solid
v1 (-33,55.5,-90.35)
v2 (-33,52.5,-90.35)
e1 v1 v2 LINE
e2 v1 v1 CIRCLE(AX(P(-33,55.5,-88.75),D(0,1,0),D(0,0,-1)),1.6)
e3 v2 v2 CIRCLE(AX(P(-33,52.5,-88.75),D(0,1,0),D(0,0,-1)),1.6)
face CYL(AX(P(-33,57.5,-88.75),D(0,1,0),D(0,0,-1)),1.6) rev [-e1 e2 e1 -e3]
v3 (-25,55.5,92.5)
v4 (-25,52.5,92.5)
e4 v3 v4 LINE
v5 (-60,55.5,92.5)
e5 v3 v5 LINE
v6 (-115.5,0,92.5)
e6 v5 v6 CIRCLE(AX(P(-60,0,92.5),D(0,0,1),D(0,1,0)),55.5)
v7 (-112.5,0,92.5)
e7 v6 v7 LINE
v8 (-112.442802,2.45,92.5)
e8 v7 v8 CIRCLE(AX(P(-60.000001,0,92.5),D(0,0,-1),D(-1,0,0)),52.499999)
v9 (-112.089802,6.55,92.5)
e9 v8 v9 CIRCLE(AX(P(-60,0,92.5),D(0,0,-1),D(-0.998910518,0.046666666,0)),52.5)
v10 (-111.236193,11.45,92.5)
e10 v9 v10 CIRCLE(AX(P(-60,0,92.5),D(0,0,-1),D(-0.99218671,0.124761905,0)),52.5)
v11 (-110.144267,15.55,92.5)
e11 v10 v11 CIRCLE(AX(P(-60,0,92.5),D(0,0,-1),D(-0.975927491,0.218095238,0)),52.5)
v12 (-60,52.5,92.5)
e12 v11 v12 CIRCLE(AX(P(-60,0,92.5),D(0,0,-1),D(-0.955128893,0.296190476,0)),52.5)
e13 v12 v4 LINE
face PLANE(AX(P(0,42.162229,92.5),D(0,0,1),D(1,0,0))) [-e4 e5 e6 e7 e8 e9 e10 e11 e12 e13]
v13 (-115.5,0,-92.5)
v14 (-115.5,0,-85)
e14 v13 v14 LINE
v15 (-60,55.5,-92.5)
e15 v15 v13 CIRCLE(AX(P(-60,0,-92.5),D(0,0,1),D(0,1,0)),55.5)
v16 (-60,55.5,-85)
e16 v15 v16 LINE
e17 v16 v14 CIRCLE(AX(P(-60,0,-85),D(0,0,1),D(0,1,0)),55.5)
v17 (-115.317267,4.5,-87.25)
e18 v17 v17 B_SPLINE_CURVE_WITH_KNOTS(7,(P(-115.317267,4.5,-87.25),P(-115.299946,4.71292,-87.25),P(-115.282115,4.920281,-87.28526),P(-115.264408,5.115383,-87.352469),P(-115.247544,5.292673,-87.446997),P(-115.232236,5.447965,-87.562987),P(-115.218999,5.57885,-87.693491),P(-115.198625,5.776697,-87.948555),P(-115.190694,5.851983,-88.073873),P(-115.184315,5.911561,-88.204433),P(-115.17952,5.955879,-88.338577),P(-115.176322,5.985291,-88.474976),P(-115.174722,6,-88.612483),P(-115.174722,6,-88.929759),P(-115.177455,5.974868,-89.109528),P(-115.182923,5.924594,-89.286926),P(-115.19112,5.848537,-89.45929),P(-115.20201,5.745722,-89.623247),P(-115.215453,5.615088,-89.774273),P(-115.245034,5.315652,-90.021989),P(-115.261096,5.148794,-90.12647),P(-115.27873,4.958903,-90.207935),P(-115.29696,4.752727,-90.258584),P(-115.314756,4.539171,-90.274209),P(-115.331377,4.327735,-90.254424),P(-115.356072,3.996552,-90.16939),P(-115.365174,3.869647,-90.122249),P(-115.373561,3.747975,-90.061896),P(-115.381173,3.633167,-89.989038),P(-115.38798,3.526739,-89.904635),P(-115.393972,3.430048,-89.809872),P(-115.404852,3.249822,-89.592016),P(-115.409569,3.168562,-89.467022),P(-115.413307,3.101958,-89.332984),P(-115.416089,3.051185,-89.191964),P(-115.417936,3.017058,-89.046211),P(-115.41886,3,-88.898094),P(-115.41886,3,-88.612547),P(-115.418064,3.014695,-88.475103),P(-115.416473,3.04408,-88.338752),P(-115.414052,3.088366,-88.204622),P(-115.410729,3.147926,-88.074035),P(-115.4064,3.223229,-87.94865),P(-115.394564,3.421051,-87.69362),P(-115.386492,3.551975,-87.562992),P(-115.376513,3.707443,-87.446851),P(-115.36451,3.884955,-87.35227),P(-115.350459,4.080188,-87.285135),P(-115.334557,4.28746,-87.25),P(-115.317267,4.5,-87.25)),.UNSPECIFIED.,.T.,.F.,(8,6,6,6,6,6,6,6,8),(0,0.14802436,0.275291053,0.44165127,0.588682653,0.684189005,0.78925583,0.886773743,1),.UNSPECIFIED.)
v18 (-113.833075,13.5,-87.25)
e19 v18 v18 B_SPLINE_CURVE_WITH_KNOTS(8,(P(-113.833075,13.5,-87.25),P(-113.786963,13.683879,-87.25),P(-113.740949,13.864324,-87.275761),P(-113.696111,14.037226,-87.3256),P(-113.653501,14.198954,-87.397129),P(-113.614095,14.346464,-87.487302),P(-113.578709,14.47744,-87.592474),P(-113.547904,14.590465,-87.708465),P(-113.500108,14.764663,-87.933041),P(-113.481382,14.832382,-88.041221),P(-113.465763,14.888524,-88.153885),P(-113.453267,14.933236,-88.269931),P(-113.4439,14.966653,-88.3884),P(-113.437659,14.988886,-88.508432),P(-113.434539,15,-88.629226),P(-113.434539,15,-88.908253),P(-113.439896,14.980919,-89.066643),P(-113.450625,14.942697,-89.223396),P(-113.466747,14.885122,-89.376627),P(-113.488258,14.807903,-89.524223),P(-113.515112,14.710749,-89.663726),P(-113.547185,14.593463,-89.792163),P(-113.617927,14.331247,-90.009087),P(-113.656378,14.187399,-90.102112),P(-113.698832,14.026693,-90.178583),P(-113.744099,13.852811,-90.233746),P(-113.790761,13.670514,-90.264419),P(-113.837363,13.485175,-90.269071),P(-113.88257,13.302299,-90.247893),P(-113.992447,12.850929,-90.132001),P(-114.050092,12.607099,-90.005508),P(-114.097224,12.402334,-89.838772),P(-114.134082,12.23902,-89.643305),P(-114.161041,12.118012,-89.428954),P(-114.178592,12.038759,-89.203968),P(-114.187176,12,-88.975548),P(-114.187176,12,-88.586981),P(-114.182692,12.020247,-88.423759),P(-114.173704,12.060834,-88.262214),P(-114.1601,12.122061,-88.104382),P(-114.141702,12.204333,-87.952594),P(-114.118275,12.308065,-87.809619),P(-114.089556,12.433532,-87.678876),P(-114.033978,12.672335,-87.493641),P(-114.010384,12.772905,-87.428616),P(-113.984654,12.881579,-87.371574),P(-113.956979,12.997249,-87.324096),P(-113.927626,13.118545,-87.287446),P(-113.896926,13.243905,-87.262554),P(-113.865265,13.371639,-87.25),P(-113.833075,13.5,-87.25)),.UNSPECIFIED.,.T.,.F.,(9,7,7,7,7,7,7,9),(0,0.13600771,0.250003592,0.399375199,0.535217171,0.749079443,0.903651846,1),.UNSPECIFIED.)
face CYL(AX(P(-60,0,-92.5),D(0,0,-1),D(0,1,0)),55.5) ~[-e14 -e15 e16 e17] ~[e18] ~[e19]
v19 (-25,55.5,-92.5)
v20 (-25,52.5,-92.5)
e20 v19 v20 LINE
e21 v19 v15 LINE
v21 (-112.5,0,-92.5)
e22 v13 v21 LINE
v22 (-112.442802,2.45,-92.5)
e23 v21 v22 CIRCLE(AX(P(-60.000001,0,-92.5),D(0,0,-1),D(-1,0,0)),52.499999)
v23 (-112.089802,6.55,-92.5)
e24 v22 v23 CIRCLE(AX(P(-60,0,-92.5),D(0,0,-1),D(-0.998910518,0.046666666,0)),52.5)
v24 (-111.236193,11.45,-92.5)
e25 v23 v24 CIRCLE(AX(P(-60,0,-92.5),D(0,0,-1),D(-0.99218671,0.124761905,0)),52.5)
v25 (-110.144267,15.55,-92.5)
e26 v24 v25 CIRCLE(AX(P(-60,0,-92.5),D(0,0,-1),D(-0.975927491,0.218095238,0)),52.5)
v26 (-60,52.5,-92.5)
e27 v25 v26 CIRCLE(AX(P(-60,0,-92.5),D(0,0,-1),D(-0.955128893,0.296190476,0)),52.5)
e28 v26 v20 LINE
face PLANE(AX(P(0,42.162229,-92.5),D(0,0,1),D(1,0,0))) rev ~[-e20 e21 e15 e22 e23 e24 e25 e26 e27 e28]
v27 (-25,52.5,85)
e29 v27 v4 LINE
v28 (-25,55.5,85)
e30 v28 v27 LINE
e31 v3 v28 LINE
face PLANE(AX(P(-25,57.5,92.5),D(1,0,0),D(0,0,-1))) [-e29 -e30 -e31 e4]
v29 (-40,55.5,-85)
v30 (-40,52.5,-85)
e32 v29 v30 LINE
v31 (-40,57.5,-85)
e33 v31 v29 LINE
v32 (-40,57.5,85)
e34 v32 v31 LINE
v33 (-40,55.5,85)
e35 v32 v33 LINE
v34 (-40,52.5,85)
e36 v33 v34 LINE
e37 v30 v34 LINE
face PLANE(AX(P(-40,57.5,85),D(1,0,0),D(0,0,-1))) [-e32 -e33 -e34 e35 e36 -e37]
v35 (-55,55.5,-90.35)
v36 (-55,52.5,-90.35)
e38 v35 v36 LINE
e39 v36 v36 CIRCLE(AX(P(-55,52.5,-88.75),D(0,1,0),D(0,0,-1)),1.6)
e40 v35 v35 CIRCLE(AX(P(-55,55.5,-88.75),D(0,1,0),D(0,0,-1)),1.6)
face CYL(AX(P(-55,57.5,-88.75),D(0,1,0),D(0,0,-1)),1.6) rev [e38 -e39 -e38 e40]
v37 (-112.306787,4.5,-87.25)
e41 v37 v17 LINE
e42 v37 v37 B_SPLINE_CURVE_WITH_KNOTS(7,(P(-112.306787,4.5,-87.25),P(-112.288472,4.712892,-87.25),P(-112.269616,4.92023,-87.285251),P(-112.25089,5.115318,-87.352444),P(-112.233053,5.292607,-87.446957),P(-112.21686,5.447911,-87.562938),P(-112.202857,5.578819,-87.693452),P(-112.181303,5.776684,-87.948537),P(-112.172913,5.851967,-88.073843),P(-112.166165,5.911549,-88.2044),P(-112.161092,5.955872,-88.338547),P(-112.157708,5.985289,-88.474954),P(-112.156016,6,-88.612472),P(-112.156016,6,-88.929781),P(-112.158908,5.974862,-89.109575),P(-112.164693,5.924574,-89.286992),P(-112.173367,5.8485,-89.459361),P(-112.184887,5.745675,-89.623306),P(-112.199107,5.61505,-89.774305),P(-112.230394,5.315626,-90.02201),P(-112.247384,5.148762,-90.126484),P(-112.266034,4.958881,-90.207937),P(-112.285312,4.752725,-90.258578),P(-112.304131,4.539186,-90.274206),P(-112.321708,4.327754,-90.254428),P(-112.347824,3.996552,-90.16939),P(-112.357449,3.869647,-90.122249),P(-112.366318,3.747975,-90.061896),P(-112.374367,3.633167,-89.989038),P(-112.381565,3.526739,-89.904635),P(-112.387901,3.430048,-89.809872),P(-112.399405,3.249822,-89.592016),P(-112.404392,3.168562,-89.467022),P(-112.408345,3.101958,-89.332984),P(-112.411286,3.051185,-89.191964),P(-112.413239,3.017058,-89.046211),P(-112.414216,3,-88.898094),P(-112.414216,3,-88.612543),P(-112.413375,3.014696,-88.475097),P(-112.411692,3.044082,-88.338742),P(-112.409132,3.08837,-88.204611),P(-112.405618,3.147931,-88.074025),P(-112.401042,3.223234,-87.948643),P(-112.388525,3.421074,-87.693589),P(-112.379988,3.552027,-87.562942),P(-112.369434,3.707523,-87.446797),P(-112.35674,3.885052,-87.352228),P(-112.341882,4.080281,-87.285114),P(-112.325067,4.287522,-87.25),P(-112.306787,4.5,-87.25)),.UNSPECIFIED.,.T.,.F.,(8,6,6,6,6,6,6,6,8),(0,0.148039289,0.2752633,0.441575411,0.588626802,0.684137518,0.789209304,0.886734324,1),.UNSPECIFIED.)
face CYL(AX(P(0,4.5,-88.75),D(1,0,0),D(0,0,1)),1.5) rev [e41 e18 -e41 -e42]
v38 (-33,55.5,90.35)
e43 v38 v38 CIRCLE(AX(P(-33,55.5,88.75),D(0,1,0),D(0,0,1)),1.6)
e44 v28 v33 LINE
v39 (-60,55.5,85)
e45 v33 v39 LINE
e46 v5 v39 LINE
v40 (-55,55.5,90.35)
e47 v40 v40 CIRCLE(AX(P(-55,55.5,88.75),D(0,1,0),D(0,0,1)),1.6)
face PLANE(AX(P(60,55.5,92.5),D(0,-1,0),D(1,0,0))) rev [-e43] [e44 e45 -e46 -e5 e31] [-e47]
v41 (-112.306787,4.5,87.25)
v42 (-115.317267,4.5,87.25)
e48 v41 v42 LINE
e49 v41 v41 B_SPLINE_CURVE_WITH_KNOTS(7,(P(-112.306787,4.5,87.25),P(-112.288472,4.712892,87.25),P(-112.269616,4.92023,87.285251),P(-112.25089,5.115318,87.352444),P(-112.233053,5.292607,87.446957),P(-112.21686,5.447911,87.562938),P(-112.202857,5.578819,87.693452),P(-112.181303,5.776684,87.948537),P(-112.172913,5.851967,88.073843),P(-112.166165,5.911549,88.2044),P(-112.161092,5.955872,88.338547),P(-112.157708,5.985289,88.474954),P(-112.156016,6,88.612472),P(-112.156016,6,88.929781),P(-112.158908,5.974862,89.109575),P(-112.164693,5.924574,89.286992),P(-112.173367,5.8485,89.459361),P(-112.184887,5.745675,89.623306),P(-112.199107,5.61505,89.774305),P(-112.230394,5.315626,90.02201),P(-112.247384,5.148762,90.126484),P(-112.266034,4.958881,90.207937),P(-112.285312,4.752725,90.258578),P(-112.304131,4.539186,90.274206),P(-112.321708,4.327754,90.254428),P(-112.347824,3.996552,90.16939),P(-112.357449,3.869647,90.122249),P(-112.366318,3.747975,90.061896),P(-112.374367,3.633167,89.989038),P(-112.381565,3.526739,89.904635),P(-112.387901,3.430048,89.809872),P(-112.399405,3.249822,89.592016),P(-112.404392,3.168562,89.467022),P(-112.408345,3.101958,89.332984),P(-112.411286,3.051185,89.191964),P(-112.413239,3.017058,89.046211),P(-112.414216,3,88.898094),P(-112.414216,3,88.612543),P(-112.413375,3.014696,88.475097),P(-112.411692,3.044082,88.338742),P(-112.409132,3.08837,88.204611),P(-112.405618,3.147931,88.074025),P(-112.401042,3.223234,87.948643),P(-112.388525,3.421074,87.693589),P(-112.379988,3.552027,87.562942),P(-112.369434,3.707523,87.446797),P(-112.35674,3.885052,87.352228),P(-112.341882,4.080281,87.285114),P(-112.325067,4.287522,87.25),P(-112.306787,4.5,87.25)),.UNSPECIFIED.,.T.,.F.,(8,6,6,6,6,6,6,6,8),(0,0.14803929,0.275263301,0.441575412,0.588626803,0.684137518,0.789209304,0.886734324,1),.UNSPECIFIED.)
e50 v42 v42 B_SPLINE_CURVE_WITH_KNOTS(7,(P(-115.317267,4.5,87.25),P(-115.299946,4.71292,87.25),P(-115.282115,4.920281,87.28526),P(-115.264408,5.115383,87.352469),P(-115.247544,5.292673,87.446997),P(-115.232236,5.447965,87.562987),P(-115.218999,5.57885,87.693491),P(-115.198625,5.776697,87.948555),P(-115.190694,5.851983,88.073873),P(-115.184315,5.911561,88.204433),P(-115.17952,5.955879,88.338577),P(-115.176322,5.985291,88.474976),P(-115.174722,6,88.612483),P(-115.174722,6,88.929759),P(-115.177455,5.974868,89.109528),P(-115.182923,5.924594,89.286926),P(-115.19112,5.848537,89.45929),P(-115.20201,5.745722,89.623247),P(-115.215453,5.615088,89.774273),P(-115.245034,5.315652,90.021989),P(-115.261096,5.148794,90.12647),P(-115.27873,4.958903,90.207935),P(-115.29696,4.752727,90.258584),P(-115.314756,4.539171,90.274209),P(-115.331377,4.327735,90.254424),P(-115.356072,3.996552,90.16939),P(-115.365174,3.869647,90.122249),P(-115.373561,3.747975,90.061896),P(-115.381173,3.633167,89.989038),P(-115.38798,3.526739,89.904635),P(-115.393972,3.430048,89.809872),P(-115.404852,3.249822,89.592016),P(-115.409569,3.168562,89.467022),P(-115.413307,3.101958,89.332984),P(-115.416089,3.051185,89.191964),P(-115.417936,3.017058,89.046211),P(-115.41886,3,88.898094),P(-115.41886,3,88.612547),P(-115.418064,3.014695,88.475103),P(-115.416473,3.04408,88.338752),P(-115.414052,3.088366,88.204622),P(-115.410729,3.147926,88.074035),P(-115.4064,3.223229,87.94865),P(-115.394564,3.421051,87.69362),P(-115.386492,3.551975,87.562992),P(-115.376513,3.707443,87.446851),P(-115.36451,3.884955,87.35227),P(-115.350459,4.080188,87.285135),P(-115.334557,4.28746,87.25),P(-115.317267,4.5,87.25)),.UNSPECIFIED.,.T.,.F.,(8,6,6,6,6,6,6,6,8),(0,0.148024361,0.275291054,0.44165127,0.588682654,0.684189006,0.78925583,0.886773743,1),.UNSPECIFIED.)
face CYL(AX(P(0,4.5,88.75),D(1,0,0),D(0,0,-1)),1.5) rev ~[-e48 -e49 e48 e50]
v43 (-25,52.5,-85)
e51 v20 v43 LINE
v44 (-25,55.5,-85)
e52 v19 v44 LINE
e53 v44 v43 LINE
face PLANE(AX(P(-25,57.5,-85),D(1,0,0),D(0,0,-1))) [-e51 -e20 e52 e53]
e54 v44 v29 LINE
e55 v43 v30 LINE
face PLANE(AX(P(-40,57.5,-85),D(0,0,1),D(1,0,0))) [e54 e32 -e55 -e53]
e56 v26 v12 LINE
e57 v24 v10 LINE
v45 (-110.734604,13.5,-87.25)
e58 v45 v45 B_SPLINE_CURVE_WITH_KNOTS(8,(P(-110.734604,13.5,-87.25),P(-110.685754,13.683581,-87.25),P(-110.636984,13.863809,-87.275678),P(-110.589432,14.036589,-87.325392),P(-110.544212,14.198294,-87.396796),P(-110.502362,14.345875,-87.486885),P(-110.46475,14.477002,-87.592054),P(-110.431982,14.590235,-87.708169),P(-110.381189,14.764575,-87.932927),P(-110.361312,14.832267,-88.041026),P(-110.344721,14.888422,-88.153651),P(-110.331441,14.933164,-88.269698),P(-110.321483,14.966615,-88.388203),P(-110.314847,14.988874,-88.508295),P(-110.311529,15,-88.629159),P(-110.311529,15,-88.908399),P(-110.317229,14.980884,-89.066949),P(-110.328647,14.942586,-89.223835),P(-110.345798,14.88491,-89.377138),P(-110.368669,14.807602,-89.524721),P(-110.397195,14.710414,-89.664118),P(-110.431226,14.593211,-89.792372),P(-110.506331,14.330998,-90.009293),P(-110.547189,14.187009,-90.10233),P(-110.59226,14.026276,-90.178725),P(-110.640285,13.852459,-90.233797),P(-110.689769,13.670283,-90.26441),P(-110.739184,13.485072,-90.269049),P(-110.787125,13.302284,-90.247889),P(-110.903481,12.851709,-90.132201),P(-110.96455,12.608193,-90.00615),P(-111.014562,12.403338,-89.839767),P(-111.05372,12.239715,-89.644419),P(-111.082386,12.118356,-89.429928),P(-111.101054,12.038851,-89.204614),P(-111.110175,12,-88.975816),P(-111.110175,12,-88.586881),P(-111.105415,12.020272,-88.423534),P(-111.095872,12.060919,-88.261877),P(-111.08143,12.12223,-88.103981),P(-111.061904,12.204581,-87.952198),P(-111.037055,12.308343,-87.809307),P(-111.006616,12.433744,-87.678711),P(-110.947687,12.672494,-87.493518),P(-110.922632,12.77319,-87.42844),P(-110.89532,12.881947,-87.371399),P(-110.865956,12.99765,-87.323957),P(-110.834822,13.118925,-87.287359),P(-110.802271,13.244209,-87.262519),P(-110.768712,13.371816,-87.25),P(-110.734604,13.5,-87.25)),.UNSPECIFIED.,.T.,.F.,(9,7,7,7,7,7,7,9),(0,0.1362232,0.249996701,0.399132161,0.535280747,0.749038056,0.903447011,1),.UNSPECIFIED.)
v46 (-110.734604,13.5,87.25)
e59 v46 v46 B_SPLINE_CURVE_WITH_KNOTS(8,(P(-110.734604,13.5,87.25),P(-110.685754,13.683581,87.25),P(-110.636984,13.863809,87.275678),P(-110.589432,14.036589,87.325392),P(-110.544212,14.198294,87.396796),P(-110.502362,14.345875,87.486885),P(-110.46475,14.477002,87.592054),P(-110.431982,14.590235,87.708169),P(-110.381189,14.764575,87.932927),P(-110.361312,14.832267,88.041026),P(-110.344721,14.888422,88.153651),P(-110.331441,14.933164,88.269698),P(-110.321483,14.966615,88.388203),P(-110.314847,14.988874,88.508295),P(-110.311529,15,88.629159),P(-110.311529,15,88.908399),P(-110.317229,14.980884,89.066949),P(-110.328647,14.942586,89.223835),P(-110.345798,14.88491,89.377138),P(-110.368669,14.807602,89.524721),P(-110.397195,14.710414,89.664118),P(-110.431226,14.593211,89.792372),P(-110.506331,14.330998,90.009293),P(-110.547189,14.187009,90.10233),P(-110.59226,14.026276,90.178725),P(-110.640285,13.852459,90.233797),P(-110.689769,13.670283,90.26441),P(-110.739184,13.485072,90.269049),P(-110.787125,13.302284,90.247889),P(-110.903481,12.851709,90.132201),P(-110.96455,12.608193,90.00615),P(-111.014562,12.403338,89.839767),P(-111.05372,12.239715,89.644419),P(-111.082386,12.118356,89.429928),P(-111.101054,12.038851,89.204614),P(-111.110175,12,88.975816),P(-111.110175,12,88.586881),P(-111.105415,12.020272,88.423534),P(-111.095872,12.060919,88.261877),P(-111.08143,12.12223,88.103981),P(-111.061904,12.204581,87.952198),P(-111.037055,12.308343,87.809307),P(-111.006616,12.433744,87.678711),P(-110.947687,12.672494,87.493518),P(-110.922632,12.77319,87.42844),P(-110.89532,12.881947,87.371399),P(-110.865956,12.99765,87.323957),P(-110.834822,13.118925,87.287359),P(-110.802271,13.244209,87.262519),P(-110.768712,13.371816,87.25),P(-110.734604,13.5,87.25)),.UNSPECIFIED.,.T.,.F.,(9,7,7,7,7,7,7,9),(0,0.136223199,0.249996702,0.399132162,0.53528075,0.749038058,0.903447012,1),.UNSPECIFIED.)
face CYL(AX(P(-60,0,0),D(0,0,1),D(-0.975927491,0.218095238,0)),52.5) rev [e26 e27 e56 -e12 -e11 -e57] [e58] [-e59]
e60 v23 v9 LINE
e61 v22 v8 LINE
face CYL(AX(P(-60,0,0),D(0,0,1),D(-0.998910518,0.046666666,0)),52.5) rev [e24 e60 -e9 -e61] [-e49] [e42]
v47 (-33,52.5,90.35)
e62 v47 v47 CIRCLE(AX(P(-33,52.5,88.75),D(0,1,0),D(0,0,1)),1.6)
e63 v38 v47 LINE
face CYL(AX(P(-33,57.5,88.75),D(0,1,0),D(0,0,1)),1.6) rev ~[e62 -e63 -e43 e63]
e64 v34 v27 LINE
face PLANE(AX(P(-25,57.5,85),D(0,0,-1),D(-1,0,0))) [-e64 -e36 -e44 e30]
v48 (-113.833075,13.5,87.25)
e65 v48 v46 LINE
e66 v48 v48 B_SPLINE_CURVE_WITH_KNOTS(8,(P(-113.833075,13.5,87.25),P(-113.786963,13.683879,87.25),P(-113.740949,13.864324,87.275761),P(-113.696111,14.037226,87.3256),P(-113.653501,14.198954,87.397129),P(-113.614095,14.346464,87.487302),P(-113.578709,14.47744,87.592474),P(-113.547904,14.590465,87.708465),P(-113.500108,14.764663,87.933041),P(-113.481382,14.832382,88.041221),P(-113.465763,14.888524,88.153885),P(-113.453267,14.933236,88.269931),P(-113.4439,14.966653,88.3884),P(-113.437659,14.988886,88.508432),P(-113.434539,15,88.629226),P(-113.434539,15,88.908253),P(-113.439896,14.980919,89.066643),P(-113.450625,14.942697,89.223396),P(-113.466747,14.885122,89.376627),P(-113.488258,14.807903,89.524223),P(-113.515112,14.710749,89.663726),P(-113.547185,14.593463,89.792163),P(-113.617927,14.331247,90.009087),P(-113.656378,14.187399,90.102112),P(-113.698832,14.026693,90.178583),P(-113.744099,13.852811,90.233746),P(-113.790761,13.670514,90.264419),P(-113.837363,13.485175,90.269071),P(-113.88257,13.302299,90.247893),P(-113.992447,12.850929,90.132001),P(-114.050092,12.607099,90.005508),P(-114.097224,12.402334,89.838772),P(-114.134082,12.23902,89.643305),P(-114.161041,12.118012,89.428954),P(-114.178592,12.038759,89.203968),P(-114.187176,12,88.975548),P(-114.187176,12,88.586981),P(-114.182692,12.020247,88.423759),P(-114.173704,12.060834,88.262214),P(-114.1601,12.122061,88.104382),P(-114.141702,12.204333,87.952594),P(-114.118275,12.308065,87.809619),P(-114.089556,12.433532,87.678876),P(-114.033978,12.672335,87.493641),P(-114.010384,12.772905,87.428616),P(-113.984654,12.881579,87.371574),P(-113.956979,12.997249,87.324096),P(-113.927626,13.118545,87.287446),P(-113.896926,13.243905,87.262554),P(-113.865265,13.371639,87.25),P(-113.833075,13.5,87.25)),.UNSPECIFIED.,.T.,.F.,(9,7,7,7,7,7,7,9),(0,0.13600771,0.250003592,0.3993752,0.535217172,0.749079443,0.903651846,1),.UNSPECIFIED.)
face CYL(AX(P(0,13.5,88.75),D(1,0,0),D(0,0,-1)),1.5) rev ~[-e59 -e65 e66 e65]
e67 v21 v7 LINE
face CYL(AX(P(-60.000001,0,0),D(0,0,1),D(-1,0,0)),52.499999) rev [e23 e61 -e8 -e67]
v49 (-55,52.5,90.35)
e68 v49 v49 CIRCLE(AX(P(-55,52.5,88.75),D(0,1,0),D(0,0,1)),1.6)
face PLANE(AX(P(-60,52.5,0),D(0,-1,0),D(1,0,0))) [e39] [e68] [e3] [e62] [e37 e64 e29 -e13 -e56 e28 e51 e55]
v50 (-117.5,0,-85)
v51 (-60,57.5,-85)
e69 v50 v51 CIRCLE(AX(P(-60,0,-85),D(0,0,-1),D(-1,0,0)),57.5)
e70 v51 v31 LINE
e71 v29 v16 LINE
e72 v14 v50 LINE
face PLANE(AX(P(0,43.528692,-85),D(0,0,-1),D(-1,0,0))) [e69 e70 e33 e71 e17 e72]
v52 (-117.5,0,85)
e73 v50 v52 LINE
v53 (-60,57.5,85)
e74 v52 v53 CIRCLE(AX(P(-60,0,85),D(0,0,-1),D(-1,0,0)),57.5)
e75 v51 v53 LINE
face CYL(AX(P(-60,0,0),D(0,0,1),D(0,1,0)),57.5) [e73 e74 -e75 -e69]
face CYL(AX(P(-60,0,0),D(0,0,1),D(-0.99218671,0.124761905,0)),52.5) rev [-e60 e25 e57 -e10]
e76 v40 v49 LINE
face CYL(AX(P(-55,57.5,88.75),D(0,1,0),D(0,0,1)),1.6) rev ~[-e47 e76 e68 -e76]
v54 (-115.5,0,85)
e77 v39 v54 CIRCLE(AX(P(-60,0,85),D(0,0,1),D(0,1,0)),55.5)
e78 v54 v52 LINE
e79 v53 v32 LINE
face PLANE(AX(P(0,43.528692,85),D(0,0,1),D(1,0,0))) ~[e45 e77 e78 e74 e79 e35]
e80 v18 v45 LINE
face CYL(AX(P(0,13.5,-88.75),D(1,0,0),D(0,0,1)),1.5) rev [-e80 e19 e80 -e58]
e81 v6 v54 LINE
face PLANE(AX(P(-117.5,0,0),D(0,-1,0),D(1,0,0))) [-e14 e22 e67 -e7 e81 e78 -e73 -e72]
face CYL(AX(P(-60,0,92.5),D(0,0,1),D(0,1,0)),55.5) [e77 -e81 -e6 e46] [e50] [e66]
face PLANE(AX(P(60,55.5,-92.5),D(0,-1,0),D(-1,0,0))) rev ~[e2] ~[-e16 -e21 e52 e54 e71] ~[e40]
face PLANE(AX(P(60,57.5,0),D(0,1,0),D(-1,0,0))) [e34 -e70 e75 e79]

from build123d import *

# Parameters (mm, degrees)
BOSS_EXTRUDE1_DEPTH = 92.5
SKETCH2_R           = 1.5
CUT_EXTRUDE1_DEPTH  = 161.2146997
SKETCH4_R           = 1.6
CUT_EXTRUDE2_DEPTH  = 161.214699867
CUT_EXTRUDE3_DEPTH  = 7.5
CUT_EXTRUDE5_DEPTH  = 7.5


with BuildPart() as part:
    # Sketch1 → Boss-Extrude1 (new, symmetric)
    with BuildSketch(Plane.XY):
        with BuildLine():
            ThreePointArc((117.5, 0), (100.658639918, 40.658639918), (60, 57.5))
            Line((60, 57.5), (-60, 57.5))
            ThreePointArc((-60, 57.5), (-100.658639918, 40.658639918), (-117.5, 0))
            Line((-117.5, 0), (-112.5, 0))
            ThreePointArc((-112.5, 0), (-112.485698596, 1.22533379), (-112.442802175, 2.45))
            ThreePointArc((-112.442802175, 2.45), (-112.306489538, 4.503460029), (-112.089802265, 6.55))
            ThreePointArc((-112.089802265, 6.55), (-111.721057974, 9.010114432), (-111.236193262, 11.45))
            ThreePointArc((-111.236193262, 11.45), (-110.731665892, 13.511035335), (-110.144266871, 15.55))
            ThreePointArc((-110.144266871, 15.55), (-91.143819612, 42.264790311), (-60, 52.5))
            Line((-60, 52.5), (-57.05, 52.5))
            Line((-57.05, 52.5), (-52.95, 52.5))
            Line((-52.95, 52.5), (-35.05, 52.5))
            Line((-35.05, 52.5), (-30.95, 52.5))
            Line((-30.95, 52.5), (-13.05, 52.5))
            Line((-13.05, 52.5), (-8.95, 52.5))
            Line((-8.95, 52.5), (8.95, 52.5))
            Line((8.95, 52.5), (13.05, 52.5))
            Line((13.05, 52.5), (30.95, 52.5))
            Line((30.95, 52.5), (35.05, 52.5))
            Line((35.05, 52.5), (52.95, 52.5))
            Line((52.95, 52.5), (57.05, 52.5))
            Line((57.05, 52.5), (60, 52.5))
            ThreePointArc((60, 52.5), (91.143819612, 42.264790311), (110.144266871, 15.55))
            ThreePointArc((110.144266871, 15.55), (110.731665892, 13.511035335), (111.236193262, 11.45))
            ThreePointArc((111.236193262, 11.45), (111.721057974, 9.010114432), (112.089802265, 6.55))
            ThreePointArc((112.089802265, 6.55), (112.306489538, 4.503460029), (112.442802175, 2.45))
            ThreePointArc((112.442802175, 2.45), (112.485698596, 1.22533379), (112.5, 0))
            Line((112.5, 0), (117.5, 0))
        make_face()
    extrude(amount=BOSS_EXTRUDE1_DEPTH, both=True)

    # Sketch2 → Cut-Extrude1 (cut, symmetric)
    with BuildSketch(Plane(origin=(0, 0, 0), x_dir=(0, 0, -1), z_dir=(1, 0, 0))):
        with Locations((-88.75, 4.5)):
            Circle(SKETCH2_R)
        with Locations((-88.75, 13.5)):
            Circle(SKETCH2_R)
    cut_extrude1 = extrude(amount=CUT_EXTRUDE1_DEPTH, both=True, mode=Mode.SUBTRACT)

    # Sketch4 → Cut-Extrude2 (cut, symmetric)
    with BuildSketch(Plane(origin=(0, 57.5, 0), x_dir=(1, 0, 0), z_dir=(0, 1, 0))):
        with Locations(Location((-55, -88.75, 0), (0, 0, 270))):
            Circle(SKETCH4_R)
        with Locations(Location((-33, -88.75, 0), (0, 0, 270))):
            Circle(SKETCH4_R)
        with Locations(Location((-11, -88.75, 0), (0, 0, 270))):
            Circle(SKETCH4_R)
        with Locations(Location((11, -88.75, 0), (0, 0, 270))):
            Circle(SKETCH4_R)
        with Locations(Location((33, -88.75, 0), (0, 0, 270))):
            Circle(SKETCH4_R)
        with Locations(Location((55, -88.75, 0), (0, 0, 270))):
            Circle(SKETCH4_R)
    cut_extrude2 = extrude(amount=CUT_EXTRUDE2_DEPTH, both=True, mode=Mode.SUBTRACT)

    # Sketch5 → Cut-Extrude3 (cut)
    with BuildSketch(Plane(origin=(0, 0, -92.5), x_dir=(-1, 0, 0), z_dir=(0, 0, -1))):
        with BuildLine():
            Line((115.5, 0), (117.5, 0))
            ThreePointArc((117.5, 0), (100.658639918, 40.658639918), (60, 57.5))
            Line((60, 57.5), (-60, 57.5))
            ThreePointArc((-60, 57.5), (-100.658639918, 40.658639918), (-117.5, 0))
            Line((-117.5, 0), (-115.5, 0))
            ThreePointArc((-115.5, 0), (-99.244426356, 39.244426356), (-60, 55.5))
            Line((-60, 55.5), (60, 55.5))
            ThreePointArc((60, 55.5), (99.244426356, 39.244426356), (115.5, 0))
        make_face()
    cut_extrude3 = extrude(amount=-CUT_EXTRUDE3_DEPTH, mode=Mode.SUBTRACT)

    # Mirror1: Cut-Extrude1, Cut-Extrude2, Cut-Extrude3 across plane
    add(cut_extrude1.mirror(Plane.XY), mode=Mode.SUBTRACT)
    add(cut_extrude2.mirror(Plane.XY), mode=Mode.SUBTRACT)
    add(cut_extrude3.mirror(Plane.XY), mode=Mode.SUBTRACT)

    # Sketch6 → Cut-Extrude5 (cut)
    with BuildSketch(Plane(origin=(0, 57.5, 0), x_dir=(1, 0, 0), z_dir=(0, 1, 0))):
        Polygon((-40, 85), (-25, 85), (-25, 92.5), (25, 92.5), (25, 85), (40, 85), (40, -85), (25, -85), (25, -92.5), (-25, -92.5), (-25, -85), (-40, -85), align=None)
    extrude(amount=-CUT_EXTRUDE5_DEPTH, mode=Mode.SUBTRACT)


with BuildPart() as body_2:
    # of the pieces the cut leaves, the one that is kept (cut_extrude5_keep)
    add(part.part.solids().sort_by_distance((-25, 55.5, -92.5))[0])


solid = body_2.part
